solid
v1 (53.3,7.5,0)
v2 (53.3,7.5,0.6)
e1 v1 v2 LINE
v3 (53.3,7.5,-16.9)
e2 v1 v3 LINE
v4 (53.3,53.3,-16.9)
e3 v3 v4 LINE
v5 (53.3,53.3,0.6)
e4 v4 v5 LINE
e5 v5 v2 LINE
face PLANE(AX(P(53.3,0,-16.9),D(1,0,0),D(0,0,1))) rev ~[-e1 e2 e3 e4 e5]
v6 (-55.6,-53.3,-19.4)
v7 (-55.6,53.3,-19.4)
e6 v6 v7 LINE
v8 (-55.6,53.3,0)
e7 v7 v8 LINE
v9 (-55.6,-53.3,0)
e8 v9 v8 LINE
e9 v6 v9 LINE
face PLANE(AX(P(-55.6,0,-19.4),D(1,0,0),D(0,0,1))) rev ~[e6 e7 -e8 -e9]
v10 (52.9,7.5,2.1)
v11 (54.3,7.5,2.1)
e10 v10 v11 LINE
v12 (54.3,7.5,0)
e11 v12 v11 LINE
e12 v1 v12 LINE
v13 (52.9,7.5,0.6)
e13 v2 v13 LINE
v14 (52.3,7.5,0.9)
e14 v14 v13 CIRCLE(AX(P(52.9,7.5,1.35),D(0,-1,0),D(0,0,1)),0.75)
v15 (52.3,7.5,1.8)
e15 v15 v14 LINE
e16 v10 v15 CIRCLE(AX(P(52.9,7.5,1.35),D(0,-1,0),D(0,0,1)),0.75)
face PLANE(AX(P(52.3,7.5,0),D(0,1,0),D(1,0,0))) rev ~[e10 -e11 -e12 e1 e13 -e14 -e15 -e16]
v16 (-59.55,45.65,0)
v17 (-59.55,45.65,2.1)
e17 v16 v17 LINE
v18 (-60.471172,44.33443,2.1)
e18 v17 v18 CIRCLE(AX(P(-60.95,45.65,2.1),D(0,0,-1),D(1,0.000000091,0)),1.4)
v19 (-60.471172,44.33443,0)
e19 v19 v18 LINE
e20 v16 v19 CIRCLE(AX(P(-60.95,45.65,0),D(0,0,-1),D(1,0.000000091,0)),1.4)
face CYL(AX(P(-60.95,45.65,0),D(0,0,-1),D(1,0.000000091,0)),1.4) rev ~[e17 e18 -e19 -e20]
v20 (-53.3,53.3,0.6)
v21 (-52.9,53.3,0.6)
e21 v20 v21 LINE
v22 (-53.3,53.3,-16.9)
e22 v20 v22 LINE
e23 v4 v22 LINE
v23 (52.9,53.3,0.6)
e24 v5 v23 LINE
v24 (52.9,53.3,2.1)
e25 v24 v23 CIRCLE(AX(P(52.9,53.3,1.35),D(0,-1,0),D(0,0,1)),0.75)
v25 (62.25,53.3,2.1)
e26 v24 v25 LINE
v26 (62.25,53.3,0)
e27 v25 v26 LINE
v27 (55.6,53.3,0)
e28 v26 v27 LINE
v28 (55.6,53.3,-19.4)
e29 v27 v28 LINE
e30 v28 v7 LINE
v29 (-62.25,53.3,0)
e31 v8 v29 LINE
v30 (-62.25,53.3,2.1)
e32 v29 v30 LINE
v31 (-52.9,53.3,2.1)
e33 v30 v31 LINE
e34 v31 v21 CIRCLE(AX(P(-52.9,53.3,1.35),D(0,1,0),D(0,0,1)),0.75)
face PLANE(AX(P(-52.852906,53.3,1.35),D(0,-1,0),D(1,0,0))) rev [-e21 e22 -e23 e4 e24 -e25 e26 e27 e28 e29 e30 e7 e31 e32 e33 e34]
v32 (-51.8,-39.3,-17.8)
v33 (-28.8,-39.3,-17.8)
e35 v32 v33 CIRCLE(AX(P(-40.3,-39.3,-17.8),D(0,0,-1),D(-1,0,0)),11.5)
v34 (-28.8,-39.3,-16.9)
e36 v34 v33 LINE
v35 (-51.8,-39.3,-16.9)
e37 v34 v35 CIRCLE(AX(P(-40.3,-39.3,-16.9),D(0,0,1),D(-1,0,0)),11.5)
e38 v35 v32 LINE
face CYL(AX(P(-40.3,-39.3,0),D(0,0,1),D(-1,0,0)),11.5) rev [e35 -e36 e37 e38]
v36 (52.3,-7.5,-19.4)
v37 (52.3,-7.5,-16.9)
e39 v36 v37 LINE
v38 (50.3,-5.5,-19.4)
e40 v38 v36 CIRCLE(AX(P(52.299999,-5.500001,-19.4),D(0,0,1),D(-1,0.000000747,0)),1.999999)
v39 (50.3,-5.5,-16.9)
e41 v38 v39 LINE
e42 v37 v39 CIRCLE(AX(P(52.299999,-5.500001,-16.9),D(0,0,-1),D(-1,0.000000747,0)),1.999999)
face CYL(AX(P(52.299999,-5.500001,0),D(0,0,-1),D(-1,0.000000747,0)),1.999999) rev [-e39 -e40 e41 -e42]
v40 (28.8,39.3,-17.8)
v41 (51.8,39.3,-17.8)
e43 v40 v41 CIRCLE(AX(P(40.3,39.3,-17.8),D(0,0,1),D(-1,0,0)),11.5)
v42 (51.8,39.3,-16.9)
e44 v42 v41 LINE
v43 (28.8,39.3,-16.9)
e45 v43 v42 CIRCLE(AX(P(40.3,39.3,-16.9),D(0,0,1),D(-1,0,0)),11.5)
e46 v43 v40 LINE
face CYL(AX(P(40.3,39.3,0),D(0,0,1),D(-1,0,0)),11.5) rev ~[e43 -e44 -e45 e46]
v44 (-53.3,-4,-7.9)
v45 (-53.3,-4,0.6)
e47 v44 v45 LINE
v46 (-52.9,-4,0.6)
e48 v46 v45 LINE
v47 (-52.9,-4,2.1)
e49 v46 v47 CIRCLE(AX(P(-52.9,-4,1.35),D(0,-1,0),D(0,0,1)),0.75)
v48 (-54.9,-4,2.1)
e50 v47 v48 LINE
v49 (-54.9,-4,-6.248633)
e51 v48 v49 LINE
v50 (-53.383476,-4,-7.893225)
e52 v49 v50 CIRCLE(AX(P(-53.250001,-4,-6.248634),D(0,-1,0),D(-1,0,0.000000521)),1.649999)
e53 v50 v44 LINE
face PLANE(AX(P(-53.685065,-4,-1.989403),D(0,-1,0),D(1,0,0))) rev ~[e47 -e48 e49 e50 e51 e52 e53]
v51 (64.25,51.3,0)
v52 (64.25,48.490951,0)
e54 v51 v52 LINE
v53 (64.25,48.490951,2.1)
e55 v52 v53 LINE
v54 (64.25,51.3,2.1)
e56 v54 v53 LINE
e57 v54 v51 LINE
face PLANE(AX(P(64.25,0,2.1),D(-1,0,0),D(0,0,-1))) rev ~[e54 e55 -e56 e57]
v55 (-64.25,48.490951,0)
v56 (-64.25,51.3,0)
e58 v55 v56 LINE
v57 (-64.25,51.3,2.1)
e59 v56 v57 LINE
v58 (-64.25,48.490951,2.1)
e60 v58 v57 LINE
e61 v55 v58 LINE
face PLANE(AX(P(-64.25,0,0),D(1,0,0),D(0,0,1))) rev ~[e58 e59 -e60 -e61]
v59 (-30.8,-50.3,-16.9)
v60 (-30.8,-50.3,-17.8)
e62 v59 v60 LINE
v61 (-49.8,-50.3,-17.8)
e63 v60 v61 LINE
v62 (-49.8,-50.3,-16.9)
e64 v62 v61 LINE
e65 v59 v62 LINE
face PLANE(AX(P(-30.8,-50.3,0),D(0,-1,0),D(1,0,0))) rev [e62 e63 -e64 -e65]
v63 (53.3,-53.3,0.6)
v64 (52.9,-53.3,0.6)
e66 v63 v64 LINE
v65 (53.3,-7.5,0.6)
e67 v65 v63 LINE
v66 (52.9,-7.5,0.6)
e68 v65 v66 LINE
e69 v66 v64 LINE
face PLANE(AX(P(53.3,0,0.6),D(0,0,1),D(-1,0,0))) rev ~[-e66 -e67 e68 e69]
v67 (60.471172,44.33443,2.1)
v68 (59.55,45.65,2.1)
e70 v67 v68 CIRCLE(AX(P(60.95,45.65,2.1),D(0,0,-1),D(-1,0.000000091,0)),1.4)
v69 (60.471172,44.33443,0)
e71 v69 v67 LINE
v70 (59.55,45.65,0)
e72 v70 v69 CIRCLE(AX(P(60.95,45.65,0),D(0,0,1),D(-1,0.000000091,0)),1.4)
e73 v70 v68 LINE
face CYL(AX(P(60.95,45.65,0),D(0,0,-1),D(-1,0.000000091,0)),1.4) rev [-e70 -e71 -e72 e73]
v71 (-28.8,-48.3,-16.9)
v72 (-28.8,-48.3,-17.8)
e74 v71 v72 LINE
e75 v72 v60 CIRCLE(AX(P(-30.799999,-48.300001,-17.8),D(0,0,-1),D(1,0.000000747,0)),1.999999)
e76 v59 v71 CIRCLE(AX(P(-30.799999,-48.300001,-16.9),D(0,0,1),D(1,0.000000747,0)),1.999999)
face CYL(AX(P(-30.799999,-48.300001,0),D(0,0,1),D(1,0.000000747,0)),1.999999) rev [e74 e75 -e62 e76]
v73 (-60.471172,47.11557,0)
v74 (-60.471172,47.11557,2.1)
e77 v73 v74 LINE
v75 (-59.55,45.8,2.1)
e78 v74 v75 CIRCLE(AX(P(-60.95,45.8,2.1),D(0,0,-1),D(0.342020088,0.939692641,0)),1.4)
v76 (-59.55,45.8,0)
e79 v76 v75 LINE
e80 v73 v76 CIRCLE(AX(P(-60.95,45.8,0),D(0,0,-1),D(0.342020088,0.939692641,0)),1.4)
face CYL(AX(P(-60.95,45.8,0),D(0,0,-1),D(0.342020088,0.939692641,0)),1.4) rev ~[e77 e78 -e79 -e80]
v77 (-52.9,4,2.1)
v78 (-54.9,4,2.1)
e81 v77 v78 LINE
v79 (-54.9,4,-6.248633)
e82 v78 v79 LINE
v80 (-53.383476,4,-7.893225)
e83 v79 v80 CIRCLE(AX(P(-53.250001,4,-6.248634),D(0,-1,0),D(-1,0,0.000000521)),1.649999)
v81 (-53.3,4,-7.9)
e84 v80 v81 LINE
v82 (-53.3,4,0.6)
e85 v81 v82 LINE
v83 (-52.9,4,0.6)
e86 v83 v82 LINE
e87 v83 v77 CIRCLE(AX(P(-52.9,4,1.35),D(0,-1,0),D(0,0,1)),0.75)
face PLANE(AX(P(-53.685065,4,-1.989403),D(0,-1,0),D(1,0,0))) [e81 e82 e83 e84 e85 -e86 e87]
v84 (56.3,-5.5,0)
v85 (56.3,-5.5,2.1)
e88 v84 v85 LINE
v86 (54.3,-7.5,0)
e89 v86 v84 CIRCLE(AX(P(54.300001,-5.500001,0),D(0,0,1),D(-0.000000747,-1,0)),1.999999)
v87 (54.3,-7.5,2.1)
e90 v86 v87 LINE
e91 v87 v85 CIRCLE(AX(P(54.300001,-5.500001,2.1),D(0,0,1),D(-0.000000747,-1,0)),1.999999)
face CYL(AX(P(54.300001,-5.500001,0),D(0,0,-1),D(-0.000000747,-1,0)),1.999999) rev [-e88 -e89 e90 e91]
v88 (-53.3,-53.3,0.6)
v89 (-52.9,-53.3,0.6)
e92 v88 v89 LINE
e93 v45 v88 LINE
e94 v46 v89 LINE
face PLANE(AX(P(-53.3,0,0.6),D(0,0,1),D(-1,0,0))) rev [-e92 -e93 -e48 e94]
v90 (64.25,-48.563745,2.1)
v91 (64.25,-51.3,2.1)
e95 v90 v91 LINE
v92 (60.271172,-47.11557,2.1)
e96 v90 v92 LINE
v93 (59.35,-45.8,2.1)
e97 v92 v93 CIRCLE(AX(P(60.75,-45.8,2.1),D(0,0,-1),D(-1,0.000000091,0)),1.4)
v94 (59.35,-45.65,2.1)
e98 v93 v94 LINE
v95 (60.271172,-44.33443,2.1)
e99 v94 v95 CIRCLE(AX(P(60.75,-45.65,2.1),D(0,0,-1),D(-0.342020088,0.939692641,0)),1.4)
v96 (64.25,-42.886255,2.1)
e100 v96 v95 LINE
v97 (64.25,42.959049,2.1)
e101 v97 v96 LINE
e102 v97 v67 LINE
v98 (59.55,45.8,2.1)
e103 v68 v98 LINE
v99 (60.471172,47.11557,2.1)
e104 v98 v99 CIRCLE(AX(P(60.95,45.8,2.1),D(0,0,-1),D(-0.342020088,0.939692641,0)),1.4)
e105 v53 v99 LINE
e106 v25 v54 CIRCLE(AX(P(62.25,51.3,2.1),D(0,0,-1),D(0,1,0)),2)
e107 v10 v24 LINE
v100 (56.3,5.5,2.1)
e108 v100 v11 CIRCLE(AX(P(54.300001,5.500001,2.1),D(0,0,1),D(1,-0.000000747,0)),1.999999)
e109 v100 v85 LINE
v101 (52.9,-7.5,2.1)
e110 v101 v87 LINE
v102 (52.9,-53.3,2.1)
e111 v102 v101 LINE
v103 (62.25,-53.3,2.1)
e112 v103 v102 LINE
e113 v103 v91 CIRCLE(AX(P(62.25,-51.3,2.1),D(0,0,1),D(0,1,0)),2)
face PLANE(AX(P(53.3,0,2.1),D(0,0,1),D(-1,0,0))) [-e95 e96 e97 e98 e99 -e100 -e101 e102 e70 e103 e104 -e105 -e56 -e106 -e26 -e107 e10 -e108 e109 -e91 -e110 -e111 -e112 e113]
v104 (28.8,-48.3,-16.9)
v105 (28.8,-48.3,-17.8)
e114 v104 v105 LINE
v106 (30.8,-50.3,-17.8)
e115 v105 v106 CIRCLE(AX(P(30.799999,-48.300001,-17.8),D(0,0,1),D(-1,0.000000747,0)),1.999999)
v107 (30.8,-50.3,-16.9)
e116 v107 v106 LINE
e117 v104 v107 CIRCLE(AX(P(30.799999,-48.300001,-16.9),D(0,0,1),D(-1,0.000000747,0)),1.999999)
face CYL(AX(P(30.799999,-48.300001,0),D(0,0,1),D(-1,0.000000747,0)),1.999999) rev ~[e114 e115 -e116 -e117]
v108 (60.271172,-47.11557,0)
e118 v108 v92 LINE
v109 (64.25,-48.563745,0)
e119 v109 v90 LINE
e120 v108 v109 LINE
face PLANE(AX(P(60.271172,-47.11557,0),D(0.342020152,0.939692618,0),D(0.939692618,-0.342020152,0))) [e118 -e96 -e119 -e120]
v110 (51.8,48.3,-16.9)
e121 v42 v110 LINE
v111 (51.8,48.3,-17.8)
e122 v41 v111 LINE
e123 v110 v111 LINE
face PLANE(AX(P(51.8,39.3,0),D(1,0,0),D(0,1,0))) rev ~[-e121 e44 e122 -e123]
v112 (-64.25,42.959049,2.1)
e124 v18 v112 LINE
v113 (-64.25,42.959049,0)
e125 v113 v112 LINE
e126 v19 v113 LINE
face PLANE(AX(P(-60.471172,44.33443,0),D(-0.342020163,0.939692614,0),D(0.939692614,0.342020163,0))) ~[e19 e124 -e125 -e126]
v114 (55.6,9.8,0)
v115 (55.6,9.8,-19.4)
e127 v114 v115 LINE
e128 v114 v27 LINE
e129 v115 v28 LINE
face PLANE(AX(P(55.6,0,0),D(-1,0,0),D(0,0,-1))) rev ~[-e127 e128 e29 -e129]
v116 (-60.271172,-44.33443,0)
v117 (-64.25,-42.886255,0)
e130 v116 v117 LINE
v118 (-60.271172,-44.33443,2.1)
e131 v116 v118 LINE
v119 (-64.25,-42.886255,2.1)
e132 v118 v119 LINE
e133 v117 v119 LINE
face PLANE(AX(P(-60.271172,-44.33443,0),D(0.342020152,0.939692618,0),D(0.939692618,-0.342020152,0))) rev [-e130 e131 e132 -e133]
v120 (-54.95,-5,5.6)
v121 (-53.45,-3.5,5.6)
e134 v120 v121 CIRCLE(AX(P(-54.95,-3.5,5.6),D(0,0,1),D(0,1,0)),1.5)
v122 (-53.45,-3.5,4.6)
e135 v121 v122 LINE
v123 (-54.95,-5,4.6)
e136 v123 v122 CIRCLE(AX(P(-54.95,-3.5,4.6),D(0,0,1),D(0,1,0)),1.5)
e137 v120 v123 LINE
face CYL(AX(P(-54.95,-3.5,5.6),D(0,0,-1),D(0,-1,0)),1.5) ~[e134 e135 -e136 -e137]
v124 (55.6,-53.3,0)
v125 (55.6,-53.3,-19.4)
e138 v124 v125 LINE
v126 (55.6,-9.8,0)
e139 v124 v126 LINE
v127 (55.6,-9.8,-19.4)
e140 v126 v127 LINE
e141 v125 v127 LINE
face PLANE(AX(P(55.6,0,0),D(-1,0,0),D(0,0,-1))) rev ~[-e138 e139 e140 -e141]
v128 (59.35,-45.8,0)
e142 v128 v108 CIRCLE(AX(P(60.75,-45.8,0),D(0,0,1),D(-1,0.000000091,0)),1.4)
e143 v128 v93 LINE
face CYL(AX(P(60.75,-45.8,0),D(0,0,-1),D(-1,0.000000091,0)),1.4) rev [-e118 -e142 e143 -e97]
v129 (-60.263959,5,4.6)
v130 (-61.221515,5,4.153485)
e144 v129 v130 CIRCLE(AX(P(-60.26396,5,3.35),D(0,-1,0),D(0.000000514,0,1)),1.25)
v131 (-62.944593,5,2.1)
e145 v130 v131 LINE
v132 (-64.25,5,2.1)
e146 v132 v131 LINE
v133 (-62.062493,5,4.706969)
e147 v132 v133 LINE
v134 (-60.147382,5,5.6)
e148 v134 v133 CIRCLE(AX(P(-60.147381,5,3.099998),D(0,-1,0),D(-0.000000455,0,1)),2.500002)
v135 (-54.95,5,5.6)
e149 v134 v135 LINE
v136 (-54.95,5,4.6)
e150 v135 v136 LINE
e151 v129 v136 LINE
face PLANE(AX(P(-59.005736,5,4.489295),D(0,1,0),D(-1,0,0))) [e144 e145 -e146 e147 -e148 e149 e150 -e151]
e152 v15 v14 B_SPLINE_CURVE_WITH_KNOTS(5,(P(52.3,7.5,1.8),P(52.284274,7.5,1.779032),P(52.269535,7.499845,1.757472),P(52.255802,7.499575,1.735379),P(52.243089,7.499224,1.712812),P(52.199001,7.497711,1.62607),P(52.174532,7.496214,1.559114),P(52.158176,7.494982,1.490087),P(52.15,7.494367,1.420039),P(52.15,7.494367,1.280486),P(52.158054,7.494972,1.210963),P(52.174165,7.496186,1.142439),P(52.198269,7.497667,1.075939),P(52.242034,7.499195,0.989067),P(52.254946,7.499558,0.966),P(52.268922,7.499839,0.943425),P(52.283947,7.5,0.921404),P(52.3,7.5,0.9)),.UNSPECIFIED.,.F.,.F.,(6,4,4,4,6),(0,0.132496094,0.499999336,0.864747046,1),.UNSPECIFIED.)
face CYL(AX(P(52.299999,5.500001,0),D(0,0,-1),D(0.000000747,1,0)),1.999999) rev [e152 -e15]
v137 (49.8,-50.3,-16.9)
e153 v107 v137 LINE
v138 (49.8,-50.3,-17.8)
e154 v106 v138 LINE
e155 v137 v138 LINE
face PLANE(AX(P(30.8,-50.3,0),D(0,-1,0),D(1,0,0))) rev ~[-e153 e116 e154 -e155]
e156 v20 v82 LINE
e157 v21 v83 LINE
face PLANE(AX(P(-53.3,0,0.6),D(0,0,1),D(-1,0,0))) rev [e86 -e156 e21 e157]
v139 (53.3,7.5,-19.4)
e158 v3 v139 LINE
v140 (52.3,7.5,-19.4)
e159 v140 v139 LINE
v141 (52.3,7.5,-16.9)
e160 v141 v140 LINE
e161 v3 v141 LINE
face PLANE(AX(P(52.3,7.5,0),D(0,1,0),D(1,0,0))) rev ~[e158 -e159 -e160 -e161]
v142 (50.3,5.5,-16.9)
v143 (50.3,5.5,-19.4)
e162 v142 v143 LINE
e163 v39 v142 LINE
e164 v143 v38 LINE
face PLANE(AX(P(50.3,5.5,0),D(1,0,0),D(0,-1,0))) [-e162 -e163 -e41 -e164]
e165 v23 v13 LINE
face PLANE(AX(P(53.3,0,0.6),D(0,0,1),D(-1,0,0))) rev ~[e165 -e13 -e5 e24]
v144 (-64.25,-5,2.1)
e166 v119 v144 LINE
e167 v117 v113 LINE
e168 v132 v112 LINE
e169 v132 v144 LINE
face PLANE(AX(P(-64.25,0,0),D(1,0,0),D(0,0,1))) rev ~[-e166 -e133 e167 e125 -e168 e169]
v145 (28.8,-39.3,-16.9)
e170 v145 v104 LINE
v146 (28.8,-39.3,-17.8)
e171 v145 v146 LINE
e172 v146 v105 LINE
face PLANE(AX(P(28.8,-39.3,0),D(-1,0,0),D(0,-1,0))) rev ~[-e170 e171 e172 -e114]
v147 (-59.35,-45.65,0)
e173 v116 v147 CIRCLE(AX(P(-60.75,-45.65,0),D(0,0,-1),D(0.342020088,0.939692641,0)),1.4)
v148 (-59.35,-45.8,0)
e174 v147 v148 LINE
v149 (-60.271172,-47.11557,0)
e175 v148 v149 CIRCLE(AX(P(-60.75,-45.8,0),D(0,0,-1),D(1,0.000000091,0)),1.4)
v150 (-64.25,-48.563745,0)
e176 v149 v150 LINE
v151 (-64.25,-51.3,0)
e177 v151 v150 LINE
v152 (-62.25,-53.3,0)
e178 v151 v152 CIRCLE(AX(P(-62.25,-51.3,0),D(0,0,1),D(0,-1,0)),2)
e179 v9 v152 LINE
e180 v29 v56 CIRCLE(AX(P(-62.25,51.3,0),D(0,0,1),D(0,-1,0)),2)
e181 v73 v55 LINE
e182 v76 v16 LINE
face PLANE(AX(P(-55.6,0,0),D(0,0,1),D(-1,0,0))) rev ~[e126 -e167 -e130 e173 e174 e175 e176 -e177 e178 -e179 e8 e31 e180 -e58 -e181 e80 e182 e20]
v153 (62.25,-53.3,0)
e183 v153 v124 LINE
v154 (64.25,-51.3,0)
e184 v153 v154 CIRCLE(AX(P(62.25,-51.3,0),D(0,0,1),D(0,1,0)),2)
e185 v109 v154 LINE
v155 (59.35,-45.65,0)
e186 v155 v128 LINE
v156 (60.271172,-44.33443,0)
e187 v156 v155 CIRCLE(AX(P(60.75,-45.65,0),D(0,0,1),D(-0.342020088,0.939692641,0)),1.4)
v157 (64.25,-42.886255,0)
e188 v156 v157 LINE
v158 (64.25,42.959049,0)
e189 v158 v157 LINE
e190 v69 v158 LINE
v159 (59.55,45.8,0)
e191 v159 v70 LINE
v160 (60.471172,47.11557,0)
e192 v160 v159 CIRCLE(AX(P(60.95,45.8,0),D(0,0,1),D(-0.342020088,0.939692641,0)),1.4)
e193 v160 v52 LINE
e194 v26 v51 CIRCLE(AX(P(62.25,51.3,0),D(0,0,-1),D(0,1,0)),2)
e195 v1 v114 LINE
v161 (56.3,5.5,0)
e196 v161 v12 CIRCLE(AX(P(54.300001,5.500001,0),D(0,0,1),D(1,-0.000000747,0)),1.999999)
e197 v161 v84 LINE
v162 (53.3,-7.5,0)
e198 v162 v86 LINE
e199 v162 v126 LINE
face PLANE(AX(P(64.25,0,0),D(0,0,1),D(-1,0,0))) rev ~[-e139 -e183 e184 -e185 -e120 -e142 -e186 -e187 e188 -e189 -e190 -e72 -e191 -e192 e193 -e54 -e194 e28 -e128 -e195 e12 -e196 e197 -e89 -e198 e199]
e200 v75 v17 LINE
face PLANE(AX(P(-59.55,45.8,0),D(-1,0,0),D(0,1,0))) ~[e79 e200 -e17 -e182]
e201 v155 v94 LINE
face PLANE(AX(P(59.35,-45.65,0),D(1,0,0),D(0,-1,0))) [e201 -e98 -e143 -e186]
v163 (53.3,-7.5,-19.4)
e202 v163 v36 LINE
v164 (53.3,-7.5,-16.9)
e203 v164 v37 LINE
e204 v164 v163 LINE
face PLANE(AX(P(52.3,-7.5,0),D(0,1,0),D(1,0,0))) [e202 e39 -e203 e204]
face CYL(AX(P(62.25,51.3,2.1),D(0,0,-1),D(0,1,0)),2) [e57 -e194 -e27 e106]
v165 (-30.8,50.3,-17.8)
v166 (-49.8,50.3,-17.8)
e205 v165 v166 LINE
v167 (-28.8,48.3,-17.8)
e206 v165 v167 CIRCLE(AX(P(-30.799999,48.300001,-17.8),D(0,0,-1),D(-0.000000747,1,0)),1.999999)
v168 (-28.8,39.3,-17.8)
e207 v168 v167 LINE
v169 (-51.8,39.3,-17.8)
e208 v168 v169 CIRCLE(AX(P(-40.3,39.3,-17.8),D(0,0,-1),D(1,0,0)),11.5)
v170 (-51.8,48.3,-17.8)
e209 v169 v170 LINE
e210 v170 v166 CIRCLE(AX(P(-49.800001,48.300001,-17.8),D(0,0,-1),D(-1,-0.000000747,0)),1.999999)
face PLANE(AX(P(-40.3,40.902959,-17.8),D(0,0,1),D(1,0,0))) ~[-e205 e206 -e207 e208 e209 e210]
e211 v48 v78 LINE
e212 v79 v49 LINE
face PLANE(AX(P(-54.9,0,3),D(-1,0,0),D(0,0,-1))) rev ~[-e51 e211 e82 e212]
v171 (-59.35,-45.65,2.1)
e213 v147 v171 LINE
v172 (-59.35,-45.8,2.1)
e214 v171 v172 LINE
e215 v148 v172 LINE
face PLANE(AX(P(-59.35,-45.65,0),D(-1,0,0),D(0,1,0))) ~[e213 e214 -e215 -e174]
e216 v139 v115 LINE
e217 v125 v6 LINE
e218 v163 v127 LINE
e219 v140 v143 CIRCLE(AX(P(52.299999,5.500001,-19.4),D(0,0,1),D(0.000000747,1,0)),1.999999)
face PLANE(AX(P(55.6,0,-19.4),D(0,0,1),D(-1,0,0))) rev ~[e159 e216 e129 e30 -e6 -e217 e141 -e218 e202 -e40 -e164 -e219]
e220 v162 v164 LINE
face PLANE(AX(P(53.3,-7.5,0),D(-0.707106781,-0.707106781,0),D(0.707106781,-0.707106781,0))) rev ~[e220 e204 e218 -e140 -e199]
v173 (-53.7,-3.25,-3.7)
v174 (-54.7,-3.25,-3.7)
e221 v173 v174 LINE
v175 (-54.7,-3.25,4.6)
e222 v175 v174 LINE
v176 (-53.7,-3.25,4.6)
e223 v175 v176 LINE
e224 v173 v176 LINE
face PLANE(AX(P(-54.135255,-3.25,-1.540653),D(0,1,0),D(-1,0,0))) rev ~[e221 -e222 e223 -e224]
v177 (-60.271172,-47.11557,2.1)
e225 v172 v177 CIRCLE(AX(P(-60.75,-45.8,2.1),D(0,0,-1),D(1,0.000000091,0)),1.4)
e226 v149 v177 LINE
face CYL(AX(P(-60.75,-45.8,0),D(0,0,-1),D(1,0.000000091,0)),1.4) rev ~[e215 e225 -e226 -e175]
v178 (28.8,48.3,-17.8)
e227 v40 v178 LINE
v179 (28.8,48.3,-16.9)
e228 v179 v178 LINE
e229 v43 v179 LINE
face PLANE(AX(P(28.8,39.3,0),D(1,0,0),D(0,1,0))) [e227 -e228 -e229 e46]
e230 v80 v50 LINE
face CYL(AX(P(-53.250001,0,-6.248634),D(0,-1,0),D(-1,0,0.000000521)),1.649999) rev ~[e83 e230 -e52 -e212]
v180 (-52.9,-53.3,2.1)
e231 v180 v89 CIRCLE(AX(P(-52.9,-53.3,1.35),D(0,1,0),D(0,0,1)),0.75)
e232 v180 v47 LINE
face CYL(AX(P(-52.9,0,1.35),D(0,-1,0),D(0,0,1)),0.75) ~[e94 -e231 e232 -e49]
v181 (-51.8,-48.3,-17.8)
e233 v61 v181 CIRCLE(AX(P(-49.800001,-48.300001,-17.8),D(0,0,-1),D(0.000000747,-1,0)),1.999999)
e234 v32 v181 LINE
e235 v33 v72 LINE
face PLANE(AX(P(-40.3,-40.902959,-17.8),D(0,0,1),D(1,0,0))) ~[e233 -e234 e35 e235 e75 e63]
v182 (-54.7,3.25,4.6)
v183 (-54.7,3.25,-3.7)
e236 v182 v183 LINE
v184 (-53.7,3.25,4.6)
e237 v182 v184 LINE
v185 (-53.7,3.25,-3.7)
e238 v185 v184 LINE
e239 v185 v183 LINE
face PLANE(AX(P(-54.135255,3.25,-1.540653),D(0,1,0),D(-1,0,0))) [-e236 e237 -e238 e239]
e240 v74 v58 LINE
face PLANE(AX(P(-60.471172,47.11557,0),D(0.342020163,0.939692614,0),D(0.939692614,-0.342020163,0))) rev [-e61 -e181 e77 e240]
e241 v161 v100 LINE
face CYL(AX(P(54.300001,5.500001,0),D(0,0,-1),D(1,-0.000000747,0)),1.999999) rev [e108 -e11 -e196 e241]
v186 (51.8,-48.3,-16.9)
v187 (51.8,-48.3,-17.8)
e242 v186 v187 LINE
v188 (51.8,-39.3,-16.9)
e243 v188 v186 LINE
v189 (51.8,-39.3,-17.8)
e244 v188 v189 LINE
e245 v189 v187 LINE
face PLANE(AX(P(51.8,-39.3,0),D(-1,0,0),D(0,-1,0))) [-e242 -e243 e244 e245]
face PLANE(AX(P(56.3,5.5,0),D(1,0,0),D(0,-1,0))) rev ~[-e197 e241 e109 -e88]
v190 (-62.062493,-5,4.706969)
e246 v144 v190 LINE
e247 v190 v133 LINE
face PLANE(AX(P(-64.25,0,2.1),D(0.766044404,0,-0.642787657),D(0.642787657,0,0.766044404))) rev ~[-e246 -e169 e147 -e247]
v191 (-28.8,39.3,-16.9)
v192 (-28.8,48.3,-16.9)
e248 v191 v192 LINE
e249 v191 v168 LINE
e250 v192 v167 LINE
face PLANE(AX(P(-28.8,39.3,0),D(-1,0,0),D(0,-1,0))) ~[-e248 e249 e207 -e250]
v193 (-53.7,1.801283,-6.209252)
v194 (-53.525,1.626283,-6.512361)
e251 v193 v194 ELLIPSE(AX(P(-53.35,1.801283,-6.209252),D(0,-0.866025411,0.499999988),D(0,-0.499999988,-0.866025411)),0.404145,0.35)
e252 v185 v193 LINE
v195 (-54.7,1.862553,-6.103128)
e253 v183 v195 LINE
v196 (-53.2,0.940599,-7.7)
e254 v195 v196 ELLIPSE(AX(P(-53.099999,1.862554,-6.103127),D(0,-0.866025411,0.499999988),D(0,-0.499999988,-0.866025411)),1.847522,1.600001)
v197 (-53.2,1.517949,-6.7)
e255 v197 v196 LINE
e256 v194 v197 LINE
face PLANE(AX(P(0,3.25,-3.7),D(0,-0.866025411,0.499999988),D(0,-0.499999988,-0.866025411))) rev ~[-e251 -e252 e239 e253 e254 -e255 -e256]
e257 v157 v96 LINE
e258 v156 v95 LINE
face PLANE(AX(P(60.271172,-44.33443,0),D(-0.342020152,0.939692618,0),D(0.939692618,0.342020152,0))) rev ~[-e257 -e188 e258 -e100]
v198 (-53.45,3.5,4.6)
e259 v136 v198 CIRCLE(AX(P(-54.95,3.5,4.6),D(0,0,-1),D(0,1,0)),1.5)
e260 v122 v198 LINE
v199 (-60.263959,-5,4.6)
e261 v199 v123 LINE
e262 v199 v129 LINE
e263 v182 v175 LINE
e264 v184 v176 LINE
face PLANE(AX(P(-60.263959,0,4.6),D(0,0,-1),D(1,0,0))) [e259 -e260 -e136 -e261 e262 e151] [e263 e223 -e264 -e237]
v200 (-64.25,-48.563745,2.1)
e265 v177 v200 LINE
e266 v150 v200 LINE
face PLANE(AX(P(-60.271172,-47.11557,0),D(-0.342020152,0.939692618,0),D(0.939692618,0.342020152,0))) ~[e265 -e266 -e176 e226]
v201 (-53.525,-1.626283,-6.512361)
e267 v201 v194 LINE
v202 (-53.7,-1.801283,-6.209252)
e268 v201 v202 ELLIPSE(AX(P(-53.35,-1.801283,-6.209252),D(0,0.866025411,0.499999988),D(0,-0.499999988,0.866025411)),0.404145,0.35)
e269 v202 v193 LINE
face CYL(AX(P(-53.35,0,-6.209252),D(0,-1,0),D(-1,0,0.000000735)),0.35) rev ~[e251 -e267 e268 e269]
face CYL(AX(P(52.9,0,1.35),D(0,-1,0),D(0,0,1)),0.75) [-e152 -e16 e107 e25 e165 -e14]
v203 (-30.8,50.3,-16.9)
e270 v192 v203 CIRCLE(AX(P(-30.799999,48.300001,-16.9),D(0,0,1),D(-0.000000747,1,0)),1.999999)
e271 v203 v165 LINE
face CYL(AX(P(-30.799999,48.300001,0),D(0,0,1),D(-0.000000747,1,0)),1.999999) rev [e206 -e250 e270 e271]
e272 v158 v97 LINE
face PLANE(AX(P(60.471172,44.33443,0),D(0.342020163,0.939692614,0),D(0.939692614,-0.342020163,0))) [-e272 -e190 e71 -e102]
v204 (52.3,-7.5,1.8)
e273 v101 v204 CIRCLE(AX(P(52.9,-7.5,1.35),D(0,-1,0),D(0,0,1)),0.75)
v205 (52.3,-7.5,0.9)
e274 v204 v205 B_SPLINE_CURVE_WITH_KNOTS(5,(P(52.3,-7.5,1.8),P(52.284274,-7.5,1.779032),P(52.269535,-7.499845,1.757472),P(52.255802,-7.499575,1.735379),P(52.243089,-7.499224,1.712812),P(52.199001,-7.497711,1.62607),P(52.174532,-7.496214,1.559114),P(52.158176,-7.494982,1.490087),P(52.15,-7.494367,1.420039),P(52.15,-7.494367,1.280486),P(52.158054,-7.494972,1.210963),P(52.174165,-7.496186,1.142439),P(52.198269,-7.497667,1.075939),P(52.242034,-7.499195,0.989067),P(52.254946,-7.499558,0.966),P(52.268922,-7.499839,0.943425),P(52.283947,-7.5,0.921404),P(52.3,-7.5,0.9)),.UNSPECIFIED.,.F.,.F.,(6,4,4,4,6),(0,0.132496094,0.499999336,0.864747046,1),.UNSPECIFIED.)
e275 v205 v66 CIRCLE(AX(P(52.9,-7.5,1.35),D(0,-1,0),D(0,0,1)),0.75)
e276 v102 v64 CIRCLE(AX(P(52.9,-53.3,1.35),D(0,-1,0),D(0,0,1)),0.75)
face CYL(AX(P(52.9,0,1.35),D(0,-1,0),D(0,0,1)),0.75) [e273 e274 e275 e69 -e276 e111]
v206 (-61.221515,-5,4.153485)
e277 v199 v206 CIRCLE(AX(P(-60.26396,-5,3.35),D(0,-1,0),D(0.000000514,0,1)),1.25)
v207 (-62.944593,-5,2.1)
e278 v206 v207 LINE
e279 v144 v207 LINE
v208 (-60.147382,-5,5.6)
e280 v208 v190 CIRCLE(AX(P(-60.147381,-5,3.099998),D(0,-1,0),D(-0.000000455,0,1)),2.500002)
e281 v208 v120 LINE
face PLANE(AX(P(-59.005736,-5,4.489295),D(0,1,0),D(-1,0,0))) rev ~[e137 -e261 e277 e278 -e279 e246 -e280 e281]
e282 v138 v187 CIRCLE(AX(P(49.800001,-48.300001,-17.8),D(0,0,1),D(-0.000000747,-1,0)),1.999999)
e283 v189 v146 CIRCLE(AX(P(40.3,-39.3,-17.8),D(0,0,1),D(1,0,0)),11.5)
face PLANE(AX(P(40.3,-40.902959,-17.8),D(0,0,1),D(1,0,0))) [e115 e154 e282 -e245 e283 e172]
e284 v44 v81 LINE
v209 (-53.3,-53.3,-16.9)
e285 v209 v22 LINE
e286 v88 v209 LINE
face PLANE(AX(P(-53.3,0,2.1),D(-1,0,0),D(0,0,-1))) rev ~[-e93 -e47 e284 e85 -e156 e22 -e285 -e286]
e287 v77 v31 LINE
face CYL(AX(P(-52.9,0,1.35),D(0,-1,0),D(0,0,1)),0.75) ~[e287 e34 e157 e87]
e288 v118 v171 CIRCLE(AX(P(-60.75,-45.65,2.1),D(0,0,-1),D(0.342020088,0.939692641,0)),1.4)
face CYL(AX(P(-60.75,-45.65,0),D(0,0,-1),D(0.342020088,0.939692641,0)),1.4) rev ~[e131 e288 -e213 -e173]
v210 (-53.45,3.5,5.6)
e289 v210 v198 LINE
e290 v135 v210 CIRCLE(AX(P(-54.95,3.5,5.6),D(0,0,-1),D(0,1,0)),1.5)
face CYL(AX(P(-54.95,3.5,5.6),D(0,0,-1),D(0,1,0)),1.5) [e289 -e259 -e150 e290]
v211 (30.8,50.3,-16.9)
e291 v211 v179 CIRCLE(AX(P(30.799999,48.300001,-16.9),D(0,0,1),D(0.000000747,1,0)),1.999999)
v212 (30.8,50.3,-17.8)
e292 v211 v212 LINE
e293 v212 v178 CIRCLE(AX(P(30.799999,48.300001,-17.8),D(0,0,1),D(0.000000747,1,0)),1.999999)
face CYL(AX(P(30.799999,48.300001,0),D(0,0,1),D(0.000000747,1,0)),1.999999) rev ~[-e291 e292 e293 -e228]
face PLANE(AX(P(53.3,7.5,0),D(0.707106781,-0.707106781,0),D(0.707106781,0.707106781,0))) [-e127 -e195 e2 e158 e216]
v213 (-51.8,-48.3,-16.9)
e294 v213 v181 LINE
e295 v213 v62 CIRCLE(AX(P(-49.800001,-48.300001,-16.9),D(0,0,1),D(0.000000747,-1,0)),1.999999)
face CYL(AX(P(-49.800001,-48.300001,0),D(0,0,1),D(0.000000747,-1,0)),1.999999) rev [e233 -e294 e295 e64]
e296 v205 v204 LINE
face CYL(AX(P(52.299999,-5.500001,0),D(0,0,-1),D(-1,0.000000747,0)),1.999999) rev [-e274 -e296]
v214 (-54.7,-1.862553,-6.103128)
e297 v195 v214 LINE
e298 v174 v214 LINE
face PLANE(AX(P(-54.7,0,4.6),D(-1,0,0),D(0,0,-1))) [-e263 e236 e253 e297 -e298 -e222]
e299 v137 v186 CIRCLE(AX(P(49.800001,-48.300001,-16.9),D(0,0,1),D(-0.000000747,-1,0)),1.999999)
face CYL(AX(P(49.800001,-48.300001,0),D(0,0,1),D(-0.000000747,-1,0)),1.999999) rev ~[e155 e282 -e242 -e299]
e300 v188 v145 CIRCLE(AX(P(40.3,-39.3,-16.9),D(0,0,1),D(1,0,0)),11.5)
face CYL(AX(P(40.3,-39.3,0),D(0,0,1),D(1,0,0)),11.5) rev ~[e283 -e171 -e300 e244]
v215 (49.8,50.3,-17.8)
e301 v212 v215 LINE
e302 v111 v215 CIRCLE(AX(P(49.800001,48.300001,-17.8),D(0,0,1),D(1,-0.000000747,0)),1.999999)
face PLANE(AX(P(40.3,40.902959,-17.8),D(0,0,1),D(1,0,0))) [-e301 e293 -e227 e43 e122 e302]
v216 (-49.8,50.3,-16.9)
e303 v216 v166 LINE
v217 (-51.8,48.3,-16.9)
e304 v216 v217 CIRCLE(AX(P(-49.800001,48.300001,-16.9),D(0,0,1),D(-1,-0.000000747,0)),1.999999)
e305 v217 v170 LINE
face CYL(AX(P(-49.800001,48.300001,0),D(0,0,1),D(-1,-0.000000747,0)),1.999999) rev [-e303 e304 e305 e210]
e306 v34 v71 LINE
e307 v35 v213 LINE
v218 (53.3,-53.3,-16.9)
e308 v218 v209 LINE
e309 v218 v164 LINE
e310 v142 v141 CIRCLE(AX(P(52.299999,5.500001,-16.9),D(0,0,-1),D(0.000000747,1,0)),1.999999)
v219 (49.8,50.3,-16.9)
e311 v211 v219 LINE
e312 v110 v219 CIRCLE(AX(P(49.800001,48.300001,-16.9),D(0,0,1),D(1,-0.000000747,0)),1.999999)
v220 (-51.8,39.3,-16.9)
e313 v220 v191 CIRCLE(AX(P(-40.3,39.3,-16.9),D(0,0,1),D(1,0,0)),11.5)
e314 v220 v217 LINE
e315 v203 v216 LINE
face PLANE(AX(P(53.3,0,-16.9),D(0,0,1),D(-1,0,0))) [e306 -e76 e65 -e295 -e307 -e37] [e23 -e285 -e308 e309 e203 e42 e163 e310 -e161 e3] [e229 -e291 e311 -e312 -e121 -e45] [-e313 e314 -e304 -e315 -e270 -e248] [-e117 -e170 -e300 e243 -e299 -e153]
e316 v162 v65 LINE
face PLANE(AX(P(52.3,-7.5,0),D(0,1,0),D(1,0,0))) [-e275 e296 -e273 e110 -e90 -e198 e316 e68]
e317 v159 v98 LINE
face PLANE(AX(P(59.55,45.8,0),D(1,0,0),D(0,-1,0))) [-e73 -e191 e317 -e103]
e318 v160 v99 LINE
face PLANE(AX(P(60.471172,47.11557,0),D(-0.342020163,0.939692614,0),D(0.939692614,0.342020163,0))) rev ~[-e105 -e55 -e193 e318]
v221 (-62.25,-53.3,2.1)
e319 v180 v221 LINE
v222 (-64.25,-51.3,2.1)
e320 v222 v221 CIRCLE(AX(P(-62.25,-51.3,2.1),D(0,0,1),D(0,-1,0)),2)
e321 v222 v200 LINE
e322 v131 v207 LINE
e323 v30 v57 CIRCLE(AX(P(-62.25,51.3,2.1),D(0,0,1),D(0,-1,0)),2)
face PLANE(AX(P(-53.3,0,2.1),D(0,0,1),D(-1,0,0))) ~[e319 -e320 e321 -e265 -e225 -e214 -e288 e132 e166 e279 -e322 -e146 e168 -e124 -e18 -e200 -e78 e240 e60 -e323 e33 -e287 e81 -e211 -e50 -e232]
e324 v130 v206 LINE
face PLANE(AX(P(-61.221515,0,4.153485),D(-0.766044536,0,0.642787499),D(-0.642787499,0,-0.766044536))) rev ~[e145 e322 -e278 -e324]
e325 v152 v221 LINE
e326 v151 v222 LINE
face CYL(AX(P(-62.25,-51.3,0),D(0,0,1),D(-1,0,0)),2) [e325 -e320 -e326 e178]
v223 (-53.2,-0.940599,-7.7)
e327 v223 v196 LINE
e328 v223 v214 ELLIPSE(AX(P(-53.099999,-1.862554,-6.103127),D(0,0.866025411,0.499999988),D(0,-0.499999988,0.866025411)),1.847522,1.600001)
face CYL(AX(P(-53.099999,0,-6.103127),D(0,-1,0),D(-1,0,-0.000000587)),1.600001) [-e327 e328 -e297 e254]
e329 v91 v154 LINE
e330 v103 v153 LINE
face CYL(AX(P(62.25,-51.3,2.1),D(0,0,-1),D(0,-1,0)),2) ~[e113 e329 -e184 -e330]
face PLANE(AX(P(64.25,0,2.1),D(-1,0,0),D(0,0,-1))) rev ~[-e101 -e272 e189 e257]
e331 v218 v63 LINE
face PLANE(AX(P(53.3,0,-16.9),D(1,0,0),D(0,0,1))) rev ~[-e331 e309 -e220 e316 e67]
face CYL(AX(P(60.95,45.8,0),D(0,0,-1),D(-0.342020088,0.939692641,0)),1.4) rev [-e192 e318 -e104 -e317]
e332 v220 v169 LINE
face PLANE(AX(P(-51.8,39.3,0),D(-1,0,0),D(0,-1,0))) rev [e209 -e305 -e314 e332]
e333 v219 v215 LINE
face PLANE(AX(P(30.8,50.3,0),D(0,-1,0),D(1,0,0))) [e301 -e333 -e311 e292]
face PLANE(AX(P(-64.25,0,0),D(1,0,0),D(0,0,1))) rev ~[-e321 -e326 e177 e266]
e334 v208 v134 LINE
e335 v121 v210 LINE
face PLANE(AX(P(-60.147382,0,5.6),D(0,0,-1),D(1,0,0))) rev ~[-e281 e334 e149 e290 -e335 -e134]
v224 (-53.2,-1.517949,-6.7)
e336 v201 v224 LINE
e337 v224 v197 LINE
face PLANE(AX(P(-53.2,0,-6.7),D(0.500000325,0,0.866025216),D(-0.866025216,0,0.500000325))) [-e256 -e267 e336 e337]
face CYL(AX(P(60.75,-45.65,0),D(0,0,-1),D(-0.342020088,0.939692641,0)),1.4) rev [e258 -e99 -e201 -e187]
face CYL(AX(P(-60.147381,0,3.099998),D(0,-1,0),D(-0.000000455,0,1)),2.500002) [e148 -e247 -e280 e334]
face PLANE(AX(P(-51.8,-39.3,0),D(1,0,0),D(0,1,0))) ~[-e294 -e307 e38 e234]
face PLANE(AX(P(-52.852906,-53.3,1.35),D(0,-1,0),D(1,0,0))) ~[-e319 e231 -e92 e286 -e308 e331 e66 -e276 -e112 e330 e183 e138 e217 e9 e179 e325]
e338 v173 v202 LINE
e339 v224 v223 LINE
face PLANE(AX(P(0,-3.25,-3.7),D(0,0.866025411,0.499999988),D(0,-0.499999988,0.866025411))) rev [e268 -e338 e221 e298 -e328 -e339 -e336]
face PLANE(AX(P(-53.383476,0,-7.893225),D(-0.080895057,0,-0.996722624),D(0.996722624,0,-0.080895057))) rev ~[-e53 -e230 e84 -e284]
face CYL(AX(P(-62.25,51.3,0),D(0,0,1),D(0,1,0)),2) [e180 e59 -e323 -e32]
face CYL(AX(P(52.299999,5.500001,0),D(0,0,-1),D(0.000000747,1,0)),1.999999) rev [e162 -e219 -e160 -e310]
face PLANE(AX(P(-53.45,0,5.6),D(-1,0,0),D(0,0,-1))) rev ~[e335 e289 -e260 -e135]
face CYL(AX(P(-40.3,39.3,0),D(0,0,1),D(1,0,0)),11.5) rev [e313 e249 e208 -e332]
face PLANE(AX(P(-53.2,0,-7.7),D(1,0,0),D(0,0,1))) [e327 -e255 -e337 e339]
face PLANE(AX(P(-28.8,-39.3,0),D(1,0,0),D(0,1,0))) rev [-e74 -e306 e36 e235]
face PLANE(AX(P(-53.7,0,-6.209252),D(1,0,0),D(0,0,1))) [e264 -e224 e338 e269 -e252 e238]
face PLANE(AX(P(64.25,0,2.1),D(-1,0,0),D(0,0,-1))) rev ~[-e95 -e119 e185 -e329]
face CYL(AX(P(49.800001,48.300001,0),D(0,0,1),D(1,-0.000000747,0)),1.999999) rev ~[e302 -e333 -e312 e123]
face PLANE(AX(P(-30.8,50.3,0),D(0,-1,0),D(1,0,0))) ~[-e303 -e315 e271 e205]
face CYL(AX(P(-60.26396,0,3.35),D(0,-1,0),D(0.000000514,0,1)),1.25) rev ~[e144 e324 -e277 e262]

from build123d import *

# Parameters (mm, degrees)
PAD003_DEPTH    = 5
PAD_DEPTH       = 3.25
POCKET012_DEPTH = 54.7
FILLET_R        = 1.5
PAD004_DEPTH    = 19.4
PAD005_DEPTH    = 2.1
PAD001_DEPTH    = 53.3
PAD002_DEPTH    = 53.3
POCKET_DEPTH    = 17.8
POCKET001_DEPTH = 5
POCKET011_DEPTH = 4
FILLET001_R     = 2


with BuildPart() as body:
    # Sketch025 → Pad003 (new body, symmetric)
    with BuildSketch(Plane.XZ):
        with BuildLine():
            Line((-64.25, 2.1), (-62.062493, 4.706969))
            ThreePointArc((-60.147382, 5.6), (-61.203928, 5.365769), (-62.062493, 4.706969))
            Line((-60.147382, 5.6), (-53.45, 5.6))
            Line((-53.45, 5.6), (-53.45, 4.6))
            Line((-53.45, 4.6), (-53.7, 4.6))
            Line((-54.7, 4.6), (-53.7, 4.6))
            Line((-54.7, 4.6), (-60.263959, 4.6))
            ThreePointArc((-60.263959, 4.6), (-60.792232, 4.482885), (-61.221515, 4.153485))
            Line((-61.221515, 4.153485), (-62.944593, 2.1))
            Line((-64.25, 2.1), (-62.944593, 2.1))
        make_face()
    extrude(amount=PAD003_DEPTH, both=True)

    # Sketch028 → Pad (join, symmetric)
    with BuildSketch(Plane.XZ):
        with BuildLine():
            Line((-53.7, 3.1), (-53.7, -6.209252))
            ThreePointArc((-53.7, -6.209252), (-53.653109, -6.384252), (-53.525, -6.512361))
            Line((-53.2, -6.7), (-53.525, -6.512361))
            Line((-53.2, -7.7), (-53.2, -6.7))
            ThreePointArc((-54.7, -6.103128), (-54.26619, -7.198573), (-53.2, -7.7))
            Line((-54.7, 3.1), (-54.7, -6.103128))
            Line((-54.7, 3.1), (-54.7, 4.6))
            Line((-54.7, 4.6), (-53.7, 4.6))
            Line((-53.7, 3.1), (-53.7, 4.6))
        make_face()
    extrude(amount=PAD_DEPTH, both=True)

    # Sketch027 → Pocket012 (cut)
    with BuildSketch(Plane.YZ):
        Polygon((3.25, -3.7), (0.940599, -7.7), (3.25, -7.7), align=None)
    pocket012 = extrude(amount=-POCKET012_DEPTH, mode=Mode.SUBTRACT)

    # Mirrored001: Pocket012 across Sketch027 V_Axis
    add(pocket012.mirror(Plane(origin=(0, 0, 0), x_dir=(1, 0, 0), z_dir=(0, 1, 0))), mode=Mode.SUBTRACT)

    # Fillet
    fillet_edges = [body.edges().sort_by_distance(p)[0] for p in [
        (-53.45, -5, 5.1),
        (-53.45, 5, 5.1),
    ]]
    fillet(fillet_edges, radius=FILLET_R)


with BuildPart() as body002:
    # Sketch011 → Pad004 (new body)
    with BuildSketch(Plane.XY):
        with BuildLine():
            Line((50.3, 5.5), (50.3, -5.5))
            ThreePointArc((50.3, -5.5), (50.885786, -6.914214), (52.3, -7.5))
            Line((53.3, -7.5), (52.3, -7.5))
            Line((53.3, -7.5), (55.6, -9.8))
            Line((55.6, 9.8), (55.6, -9.8))
            Line((53.3, 7.5), (55.6, 9.8))
            Line((52.3, 7.5), (53.3, 7.5))
            ThreePointArc((52.3, 7.5), (50.885786, 6.914214), (50.3, 5.5))
        make_face()
    extrude(amount=-PAD004_DEPTH)

    # Sketch029 → Pad005 (join)
    with BuildSketch(Plane.XY):
        with BuildLine():
            Line((50.3, 5.5), (50.3, -5.5))
            ThreePointArc((50.3, -5.5), (50.885786, -6.914214), (52.3, -7.5))
            Line((53.3, -7.5), (52.3, -7.5))
            Line((53.3, -7.5), (54.3, -7.5))
            ThreePointArc((54.3, -7.5), (55.714214, -6.914214), (56.3, -5.5))
            Line((56.3, 5.5), (56.3, -5.5))
            ThreePointArc((56.3, 5.5), (55.714214, 6.914214), (54.3, 7.5))
            Line((53.3, 7.5), (54.3, 7.5))
            Line((52.3, 7.5), (53.3, 7.5))
            ThreePointArc((52.3, 7.5), (50.885786, 6.914214), (50.3, 5.5))
        make_face()
    extrude(amount=PAD005_DEPTH)


with BuildPart() as eurorack_case:
    # Sketch001 → Pad001 (new body, symmetric)
    with BuildSketch(Plane.XZ):
        Polygon((64.25, 0), (55.6, 0), (55.6, -19.4), (-55.6, -19.4), (-55.6, 0), (-64.25, 0), (-64.25, 2.1), (-53.3, 2.1), (-53.3, -16.9), (0, -16.9), (53.3, -16.9), (53.3, 2.1), (64.25, 2.1), align=None)
    extrude(amount=PAD001_DEPTH, both=True)

    # Sketch002 → Pad002 (join, symmetric)
    with BuildSketch(Plane.XZ):
        with BuildLine():
            ThreePointArc((52.9, 2.1), (52.15, 1.35), (52.9, 0.6))
            Line((53.3, 0.6), (52.9, 0.6))
            Line((53.3, 2.1), (53.3, 0.6))
            Line((53.3, 2.1), (52.9, 2.1))
        make_face()
    pad002 = extrude(amount=PAD002_DEPTH, both=True)

    # Sketch003 → Pocket (cut)
    with BuildSketch(Plane.XY):
        with BuildLine():
            ThreePointArc((28.8, 39.3), (40.3, 27.8), (51.8, 39.3))
            Line((51.8, 39.3), (51.8, 48.3))
            ThreePointArc((51.8, 48.3), (51.214214, 49.714214), (49.8, 50.3))
            Line((30.8, 50.3), (49.8, 50.3))
            ThreePointArc((30.8, 50.3), (29.385786, 49.714214), (28.8, 48.3))
            Line((28.8, 39.3), (28.8, 48.3))
        make_face()
        with BuildLine():
            ThreePointArc((51.8, -39.3), (40.3, -27.8), (28.8, -39.3))
            Line((28.8, -39.3), (28.8, -48.3))
            ThreePointArc((28.8, -48.3), (29.385786, -49.714214), (30.8, -50.3))
            Line((30.8, -50.3), (49.8, -50.3))
            ThreePointArc((49.8, -50.3), (51.214214, -49.714214), (51.8, -48.3))
            Line((51.8, -39.3), (51.8, -48.3))
        make_face()
    pocket = extrude(amount=-POCKET_DEPTH, mode=Mode.SUBTRACT)

    # Sketch004 → Pocket001 (cut)
    with BuildSketch(Plane.XY):
        with BuildLine():
            ThreePointArc((59.35, -45.8), (59.603187, -46.603007), (60.271172, -47.11557))
            Line((60.271172, -47.11557), (64.25, -48.563745))
            Line((64.25, -42.886255), (64.25, -48.563745))
            Line((60.271172, -44.33443), (64.25, -42.886255))
            ThreePointArc((60.271172, -44.33443), (59.603187, -44.846993), (59.35, -45.65))
            Line((59.35, -45.65), (59.35, -45.8))
        make_face()
        with BuildLine():
            ThreePointArc((60.471172, 47.11557), (59.803187, 46.603007), (59.55, 45.8))
            Line((59.55, 45.8), (59.55, 45.65))
            ThreePointArc((59.55, 45.65), (59.803187, 44.846993), (60.471172, 44.33443))
            Line((60.471172, 44.33443), (64.25, 42.959049))
            Line((64.25, 48.490951), (64.25, 42.959049))
            Line((60.471172, 47.11557), (64.25, 48.490951))
        make_face()
    pocket001 = extrude(amount=POCKET001_DEPTH, mode=Mode.SUBTRACT)

    # Mirrored: Pad002, Pocket, Pocket001 across Sketch002 V_Axis
    add(pad002.mirror(Plane(origin=(0, 0, 0), x_dir=(0, -1, 0), z_dir=(1, 0, 0))))
    add(pocket.mirror(Plane(origin=(0, 0, 0), x_dir=(0, -1, 0), z_dir=(1, 0, 0))), mode=Mode.SUBTRACT)
    add(pocket001.mirror(Plane(origin=(0, 0, 0), x_dir=(0, -1, 0), z_dir=(1, 0, 0))), mode=Mode.SUBTRACT)

    # Sketch024 → Pocket011 (cut, symmetric)
    with BuildSketch(Plane.XZ):
        with BuildLine():
            Line((-54.9, 3), (-54.9, -6.248633))
            ThreePointArc((-54.9, -6.248633), (-54.463, -7.367173), (-53.383476, -7.893225))
            Line((-53.383476, -7.893225), (-53.3, -7.9))
            Line((-51.9, 3), (-53.3, -7.9))
            Line((-54.9, 3), (-51.9, 3))
        make_face()
    extrude(amount=POCKET011_DEPTH, both=True, mode=Mode.SUBTRACT)

    # Boolean: union Body
    add(body.part)

    # Boolean001: cut Body002
    add(body002.part, mode=Mode.SUBTRACT)

    # Fillet001
    fillet001_edges = [eurorack_case.edges().sort_by_distance(p)[0] for p in [
        (64.25, -53.3, 1.05),
        (64.25, 53.3, 1.05),
        (-64.25, -53.3, 1.05),
        (-64.25, 53.3, 1.05),
    ]]
    fillet(fillet001_edges, radius=FILLET001_R)


solid = eurorack_case.part
